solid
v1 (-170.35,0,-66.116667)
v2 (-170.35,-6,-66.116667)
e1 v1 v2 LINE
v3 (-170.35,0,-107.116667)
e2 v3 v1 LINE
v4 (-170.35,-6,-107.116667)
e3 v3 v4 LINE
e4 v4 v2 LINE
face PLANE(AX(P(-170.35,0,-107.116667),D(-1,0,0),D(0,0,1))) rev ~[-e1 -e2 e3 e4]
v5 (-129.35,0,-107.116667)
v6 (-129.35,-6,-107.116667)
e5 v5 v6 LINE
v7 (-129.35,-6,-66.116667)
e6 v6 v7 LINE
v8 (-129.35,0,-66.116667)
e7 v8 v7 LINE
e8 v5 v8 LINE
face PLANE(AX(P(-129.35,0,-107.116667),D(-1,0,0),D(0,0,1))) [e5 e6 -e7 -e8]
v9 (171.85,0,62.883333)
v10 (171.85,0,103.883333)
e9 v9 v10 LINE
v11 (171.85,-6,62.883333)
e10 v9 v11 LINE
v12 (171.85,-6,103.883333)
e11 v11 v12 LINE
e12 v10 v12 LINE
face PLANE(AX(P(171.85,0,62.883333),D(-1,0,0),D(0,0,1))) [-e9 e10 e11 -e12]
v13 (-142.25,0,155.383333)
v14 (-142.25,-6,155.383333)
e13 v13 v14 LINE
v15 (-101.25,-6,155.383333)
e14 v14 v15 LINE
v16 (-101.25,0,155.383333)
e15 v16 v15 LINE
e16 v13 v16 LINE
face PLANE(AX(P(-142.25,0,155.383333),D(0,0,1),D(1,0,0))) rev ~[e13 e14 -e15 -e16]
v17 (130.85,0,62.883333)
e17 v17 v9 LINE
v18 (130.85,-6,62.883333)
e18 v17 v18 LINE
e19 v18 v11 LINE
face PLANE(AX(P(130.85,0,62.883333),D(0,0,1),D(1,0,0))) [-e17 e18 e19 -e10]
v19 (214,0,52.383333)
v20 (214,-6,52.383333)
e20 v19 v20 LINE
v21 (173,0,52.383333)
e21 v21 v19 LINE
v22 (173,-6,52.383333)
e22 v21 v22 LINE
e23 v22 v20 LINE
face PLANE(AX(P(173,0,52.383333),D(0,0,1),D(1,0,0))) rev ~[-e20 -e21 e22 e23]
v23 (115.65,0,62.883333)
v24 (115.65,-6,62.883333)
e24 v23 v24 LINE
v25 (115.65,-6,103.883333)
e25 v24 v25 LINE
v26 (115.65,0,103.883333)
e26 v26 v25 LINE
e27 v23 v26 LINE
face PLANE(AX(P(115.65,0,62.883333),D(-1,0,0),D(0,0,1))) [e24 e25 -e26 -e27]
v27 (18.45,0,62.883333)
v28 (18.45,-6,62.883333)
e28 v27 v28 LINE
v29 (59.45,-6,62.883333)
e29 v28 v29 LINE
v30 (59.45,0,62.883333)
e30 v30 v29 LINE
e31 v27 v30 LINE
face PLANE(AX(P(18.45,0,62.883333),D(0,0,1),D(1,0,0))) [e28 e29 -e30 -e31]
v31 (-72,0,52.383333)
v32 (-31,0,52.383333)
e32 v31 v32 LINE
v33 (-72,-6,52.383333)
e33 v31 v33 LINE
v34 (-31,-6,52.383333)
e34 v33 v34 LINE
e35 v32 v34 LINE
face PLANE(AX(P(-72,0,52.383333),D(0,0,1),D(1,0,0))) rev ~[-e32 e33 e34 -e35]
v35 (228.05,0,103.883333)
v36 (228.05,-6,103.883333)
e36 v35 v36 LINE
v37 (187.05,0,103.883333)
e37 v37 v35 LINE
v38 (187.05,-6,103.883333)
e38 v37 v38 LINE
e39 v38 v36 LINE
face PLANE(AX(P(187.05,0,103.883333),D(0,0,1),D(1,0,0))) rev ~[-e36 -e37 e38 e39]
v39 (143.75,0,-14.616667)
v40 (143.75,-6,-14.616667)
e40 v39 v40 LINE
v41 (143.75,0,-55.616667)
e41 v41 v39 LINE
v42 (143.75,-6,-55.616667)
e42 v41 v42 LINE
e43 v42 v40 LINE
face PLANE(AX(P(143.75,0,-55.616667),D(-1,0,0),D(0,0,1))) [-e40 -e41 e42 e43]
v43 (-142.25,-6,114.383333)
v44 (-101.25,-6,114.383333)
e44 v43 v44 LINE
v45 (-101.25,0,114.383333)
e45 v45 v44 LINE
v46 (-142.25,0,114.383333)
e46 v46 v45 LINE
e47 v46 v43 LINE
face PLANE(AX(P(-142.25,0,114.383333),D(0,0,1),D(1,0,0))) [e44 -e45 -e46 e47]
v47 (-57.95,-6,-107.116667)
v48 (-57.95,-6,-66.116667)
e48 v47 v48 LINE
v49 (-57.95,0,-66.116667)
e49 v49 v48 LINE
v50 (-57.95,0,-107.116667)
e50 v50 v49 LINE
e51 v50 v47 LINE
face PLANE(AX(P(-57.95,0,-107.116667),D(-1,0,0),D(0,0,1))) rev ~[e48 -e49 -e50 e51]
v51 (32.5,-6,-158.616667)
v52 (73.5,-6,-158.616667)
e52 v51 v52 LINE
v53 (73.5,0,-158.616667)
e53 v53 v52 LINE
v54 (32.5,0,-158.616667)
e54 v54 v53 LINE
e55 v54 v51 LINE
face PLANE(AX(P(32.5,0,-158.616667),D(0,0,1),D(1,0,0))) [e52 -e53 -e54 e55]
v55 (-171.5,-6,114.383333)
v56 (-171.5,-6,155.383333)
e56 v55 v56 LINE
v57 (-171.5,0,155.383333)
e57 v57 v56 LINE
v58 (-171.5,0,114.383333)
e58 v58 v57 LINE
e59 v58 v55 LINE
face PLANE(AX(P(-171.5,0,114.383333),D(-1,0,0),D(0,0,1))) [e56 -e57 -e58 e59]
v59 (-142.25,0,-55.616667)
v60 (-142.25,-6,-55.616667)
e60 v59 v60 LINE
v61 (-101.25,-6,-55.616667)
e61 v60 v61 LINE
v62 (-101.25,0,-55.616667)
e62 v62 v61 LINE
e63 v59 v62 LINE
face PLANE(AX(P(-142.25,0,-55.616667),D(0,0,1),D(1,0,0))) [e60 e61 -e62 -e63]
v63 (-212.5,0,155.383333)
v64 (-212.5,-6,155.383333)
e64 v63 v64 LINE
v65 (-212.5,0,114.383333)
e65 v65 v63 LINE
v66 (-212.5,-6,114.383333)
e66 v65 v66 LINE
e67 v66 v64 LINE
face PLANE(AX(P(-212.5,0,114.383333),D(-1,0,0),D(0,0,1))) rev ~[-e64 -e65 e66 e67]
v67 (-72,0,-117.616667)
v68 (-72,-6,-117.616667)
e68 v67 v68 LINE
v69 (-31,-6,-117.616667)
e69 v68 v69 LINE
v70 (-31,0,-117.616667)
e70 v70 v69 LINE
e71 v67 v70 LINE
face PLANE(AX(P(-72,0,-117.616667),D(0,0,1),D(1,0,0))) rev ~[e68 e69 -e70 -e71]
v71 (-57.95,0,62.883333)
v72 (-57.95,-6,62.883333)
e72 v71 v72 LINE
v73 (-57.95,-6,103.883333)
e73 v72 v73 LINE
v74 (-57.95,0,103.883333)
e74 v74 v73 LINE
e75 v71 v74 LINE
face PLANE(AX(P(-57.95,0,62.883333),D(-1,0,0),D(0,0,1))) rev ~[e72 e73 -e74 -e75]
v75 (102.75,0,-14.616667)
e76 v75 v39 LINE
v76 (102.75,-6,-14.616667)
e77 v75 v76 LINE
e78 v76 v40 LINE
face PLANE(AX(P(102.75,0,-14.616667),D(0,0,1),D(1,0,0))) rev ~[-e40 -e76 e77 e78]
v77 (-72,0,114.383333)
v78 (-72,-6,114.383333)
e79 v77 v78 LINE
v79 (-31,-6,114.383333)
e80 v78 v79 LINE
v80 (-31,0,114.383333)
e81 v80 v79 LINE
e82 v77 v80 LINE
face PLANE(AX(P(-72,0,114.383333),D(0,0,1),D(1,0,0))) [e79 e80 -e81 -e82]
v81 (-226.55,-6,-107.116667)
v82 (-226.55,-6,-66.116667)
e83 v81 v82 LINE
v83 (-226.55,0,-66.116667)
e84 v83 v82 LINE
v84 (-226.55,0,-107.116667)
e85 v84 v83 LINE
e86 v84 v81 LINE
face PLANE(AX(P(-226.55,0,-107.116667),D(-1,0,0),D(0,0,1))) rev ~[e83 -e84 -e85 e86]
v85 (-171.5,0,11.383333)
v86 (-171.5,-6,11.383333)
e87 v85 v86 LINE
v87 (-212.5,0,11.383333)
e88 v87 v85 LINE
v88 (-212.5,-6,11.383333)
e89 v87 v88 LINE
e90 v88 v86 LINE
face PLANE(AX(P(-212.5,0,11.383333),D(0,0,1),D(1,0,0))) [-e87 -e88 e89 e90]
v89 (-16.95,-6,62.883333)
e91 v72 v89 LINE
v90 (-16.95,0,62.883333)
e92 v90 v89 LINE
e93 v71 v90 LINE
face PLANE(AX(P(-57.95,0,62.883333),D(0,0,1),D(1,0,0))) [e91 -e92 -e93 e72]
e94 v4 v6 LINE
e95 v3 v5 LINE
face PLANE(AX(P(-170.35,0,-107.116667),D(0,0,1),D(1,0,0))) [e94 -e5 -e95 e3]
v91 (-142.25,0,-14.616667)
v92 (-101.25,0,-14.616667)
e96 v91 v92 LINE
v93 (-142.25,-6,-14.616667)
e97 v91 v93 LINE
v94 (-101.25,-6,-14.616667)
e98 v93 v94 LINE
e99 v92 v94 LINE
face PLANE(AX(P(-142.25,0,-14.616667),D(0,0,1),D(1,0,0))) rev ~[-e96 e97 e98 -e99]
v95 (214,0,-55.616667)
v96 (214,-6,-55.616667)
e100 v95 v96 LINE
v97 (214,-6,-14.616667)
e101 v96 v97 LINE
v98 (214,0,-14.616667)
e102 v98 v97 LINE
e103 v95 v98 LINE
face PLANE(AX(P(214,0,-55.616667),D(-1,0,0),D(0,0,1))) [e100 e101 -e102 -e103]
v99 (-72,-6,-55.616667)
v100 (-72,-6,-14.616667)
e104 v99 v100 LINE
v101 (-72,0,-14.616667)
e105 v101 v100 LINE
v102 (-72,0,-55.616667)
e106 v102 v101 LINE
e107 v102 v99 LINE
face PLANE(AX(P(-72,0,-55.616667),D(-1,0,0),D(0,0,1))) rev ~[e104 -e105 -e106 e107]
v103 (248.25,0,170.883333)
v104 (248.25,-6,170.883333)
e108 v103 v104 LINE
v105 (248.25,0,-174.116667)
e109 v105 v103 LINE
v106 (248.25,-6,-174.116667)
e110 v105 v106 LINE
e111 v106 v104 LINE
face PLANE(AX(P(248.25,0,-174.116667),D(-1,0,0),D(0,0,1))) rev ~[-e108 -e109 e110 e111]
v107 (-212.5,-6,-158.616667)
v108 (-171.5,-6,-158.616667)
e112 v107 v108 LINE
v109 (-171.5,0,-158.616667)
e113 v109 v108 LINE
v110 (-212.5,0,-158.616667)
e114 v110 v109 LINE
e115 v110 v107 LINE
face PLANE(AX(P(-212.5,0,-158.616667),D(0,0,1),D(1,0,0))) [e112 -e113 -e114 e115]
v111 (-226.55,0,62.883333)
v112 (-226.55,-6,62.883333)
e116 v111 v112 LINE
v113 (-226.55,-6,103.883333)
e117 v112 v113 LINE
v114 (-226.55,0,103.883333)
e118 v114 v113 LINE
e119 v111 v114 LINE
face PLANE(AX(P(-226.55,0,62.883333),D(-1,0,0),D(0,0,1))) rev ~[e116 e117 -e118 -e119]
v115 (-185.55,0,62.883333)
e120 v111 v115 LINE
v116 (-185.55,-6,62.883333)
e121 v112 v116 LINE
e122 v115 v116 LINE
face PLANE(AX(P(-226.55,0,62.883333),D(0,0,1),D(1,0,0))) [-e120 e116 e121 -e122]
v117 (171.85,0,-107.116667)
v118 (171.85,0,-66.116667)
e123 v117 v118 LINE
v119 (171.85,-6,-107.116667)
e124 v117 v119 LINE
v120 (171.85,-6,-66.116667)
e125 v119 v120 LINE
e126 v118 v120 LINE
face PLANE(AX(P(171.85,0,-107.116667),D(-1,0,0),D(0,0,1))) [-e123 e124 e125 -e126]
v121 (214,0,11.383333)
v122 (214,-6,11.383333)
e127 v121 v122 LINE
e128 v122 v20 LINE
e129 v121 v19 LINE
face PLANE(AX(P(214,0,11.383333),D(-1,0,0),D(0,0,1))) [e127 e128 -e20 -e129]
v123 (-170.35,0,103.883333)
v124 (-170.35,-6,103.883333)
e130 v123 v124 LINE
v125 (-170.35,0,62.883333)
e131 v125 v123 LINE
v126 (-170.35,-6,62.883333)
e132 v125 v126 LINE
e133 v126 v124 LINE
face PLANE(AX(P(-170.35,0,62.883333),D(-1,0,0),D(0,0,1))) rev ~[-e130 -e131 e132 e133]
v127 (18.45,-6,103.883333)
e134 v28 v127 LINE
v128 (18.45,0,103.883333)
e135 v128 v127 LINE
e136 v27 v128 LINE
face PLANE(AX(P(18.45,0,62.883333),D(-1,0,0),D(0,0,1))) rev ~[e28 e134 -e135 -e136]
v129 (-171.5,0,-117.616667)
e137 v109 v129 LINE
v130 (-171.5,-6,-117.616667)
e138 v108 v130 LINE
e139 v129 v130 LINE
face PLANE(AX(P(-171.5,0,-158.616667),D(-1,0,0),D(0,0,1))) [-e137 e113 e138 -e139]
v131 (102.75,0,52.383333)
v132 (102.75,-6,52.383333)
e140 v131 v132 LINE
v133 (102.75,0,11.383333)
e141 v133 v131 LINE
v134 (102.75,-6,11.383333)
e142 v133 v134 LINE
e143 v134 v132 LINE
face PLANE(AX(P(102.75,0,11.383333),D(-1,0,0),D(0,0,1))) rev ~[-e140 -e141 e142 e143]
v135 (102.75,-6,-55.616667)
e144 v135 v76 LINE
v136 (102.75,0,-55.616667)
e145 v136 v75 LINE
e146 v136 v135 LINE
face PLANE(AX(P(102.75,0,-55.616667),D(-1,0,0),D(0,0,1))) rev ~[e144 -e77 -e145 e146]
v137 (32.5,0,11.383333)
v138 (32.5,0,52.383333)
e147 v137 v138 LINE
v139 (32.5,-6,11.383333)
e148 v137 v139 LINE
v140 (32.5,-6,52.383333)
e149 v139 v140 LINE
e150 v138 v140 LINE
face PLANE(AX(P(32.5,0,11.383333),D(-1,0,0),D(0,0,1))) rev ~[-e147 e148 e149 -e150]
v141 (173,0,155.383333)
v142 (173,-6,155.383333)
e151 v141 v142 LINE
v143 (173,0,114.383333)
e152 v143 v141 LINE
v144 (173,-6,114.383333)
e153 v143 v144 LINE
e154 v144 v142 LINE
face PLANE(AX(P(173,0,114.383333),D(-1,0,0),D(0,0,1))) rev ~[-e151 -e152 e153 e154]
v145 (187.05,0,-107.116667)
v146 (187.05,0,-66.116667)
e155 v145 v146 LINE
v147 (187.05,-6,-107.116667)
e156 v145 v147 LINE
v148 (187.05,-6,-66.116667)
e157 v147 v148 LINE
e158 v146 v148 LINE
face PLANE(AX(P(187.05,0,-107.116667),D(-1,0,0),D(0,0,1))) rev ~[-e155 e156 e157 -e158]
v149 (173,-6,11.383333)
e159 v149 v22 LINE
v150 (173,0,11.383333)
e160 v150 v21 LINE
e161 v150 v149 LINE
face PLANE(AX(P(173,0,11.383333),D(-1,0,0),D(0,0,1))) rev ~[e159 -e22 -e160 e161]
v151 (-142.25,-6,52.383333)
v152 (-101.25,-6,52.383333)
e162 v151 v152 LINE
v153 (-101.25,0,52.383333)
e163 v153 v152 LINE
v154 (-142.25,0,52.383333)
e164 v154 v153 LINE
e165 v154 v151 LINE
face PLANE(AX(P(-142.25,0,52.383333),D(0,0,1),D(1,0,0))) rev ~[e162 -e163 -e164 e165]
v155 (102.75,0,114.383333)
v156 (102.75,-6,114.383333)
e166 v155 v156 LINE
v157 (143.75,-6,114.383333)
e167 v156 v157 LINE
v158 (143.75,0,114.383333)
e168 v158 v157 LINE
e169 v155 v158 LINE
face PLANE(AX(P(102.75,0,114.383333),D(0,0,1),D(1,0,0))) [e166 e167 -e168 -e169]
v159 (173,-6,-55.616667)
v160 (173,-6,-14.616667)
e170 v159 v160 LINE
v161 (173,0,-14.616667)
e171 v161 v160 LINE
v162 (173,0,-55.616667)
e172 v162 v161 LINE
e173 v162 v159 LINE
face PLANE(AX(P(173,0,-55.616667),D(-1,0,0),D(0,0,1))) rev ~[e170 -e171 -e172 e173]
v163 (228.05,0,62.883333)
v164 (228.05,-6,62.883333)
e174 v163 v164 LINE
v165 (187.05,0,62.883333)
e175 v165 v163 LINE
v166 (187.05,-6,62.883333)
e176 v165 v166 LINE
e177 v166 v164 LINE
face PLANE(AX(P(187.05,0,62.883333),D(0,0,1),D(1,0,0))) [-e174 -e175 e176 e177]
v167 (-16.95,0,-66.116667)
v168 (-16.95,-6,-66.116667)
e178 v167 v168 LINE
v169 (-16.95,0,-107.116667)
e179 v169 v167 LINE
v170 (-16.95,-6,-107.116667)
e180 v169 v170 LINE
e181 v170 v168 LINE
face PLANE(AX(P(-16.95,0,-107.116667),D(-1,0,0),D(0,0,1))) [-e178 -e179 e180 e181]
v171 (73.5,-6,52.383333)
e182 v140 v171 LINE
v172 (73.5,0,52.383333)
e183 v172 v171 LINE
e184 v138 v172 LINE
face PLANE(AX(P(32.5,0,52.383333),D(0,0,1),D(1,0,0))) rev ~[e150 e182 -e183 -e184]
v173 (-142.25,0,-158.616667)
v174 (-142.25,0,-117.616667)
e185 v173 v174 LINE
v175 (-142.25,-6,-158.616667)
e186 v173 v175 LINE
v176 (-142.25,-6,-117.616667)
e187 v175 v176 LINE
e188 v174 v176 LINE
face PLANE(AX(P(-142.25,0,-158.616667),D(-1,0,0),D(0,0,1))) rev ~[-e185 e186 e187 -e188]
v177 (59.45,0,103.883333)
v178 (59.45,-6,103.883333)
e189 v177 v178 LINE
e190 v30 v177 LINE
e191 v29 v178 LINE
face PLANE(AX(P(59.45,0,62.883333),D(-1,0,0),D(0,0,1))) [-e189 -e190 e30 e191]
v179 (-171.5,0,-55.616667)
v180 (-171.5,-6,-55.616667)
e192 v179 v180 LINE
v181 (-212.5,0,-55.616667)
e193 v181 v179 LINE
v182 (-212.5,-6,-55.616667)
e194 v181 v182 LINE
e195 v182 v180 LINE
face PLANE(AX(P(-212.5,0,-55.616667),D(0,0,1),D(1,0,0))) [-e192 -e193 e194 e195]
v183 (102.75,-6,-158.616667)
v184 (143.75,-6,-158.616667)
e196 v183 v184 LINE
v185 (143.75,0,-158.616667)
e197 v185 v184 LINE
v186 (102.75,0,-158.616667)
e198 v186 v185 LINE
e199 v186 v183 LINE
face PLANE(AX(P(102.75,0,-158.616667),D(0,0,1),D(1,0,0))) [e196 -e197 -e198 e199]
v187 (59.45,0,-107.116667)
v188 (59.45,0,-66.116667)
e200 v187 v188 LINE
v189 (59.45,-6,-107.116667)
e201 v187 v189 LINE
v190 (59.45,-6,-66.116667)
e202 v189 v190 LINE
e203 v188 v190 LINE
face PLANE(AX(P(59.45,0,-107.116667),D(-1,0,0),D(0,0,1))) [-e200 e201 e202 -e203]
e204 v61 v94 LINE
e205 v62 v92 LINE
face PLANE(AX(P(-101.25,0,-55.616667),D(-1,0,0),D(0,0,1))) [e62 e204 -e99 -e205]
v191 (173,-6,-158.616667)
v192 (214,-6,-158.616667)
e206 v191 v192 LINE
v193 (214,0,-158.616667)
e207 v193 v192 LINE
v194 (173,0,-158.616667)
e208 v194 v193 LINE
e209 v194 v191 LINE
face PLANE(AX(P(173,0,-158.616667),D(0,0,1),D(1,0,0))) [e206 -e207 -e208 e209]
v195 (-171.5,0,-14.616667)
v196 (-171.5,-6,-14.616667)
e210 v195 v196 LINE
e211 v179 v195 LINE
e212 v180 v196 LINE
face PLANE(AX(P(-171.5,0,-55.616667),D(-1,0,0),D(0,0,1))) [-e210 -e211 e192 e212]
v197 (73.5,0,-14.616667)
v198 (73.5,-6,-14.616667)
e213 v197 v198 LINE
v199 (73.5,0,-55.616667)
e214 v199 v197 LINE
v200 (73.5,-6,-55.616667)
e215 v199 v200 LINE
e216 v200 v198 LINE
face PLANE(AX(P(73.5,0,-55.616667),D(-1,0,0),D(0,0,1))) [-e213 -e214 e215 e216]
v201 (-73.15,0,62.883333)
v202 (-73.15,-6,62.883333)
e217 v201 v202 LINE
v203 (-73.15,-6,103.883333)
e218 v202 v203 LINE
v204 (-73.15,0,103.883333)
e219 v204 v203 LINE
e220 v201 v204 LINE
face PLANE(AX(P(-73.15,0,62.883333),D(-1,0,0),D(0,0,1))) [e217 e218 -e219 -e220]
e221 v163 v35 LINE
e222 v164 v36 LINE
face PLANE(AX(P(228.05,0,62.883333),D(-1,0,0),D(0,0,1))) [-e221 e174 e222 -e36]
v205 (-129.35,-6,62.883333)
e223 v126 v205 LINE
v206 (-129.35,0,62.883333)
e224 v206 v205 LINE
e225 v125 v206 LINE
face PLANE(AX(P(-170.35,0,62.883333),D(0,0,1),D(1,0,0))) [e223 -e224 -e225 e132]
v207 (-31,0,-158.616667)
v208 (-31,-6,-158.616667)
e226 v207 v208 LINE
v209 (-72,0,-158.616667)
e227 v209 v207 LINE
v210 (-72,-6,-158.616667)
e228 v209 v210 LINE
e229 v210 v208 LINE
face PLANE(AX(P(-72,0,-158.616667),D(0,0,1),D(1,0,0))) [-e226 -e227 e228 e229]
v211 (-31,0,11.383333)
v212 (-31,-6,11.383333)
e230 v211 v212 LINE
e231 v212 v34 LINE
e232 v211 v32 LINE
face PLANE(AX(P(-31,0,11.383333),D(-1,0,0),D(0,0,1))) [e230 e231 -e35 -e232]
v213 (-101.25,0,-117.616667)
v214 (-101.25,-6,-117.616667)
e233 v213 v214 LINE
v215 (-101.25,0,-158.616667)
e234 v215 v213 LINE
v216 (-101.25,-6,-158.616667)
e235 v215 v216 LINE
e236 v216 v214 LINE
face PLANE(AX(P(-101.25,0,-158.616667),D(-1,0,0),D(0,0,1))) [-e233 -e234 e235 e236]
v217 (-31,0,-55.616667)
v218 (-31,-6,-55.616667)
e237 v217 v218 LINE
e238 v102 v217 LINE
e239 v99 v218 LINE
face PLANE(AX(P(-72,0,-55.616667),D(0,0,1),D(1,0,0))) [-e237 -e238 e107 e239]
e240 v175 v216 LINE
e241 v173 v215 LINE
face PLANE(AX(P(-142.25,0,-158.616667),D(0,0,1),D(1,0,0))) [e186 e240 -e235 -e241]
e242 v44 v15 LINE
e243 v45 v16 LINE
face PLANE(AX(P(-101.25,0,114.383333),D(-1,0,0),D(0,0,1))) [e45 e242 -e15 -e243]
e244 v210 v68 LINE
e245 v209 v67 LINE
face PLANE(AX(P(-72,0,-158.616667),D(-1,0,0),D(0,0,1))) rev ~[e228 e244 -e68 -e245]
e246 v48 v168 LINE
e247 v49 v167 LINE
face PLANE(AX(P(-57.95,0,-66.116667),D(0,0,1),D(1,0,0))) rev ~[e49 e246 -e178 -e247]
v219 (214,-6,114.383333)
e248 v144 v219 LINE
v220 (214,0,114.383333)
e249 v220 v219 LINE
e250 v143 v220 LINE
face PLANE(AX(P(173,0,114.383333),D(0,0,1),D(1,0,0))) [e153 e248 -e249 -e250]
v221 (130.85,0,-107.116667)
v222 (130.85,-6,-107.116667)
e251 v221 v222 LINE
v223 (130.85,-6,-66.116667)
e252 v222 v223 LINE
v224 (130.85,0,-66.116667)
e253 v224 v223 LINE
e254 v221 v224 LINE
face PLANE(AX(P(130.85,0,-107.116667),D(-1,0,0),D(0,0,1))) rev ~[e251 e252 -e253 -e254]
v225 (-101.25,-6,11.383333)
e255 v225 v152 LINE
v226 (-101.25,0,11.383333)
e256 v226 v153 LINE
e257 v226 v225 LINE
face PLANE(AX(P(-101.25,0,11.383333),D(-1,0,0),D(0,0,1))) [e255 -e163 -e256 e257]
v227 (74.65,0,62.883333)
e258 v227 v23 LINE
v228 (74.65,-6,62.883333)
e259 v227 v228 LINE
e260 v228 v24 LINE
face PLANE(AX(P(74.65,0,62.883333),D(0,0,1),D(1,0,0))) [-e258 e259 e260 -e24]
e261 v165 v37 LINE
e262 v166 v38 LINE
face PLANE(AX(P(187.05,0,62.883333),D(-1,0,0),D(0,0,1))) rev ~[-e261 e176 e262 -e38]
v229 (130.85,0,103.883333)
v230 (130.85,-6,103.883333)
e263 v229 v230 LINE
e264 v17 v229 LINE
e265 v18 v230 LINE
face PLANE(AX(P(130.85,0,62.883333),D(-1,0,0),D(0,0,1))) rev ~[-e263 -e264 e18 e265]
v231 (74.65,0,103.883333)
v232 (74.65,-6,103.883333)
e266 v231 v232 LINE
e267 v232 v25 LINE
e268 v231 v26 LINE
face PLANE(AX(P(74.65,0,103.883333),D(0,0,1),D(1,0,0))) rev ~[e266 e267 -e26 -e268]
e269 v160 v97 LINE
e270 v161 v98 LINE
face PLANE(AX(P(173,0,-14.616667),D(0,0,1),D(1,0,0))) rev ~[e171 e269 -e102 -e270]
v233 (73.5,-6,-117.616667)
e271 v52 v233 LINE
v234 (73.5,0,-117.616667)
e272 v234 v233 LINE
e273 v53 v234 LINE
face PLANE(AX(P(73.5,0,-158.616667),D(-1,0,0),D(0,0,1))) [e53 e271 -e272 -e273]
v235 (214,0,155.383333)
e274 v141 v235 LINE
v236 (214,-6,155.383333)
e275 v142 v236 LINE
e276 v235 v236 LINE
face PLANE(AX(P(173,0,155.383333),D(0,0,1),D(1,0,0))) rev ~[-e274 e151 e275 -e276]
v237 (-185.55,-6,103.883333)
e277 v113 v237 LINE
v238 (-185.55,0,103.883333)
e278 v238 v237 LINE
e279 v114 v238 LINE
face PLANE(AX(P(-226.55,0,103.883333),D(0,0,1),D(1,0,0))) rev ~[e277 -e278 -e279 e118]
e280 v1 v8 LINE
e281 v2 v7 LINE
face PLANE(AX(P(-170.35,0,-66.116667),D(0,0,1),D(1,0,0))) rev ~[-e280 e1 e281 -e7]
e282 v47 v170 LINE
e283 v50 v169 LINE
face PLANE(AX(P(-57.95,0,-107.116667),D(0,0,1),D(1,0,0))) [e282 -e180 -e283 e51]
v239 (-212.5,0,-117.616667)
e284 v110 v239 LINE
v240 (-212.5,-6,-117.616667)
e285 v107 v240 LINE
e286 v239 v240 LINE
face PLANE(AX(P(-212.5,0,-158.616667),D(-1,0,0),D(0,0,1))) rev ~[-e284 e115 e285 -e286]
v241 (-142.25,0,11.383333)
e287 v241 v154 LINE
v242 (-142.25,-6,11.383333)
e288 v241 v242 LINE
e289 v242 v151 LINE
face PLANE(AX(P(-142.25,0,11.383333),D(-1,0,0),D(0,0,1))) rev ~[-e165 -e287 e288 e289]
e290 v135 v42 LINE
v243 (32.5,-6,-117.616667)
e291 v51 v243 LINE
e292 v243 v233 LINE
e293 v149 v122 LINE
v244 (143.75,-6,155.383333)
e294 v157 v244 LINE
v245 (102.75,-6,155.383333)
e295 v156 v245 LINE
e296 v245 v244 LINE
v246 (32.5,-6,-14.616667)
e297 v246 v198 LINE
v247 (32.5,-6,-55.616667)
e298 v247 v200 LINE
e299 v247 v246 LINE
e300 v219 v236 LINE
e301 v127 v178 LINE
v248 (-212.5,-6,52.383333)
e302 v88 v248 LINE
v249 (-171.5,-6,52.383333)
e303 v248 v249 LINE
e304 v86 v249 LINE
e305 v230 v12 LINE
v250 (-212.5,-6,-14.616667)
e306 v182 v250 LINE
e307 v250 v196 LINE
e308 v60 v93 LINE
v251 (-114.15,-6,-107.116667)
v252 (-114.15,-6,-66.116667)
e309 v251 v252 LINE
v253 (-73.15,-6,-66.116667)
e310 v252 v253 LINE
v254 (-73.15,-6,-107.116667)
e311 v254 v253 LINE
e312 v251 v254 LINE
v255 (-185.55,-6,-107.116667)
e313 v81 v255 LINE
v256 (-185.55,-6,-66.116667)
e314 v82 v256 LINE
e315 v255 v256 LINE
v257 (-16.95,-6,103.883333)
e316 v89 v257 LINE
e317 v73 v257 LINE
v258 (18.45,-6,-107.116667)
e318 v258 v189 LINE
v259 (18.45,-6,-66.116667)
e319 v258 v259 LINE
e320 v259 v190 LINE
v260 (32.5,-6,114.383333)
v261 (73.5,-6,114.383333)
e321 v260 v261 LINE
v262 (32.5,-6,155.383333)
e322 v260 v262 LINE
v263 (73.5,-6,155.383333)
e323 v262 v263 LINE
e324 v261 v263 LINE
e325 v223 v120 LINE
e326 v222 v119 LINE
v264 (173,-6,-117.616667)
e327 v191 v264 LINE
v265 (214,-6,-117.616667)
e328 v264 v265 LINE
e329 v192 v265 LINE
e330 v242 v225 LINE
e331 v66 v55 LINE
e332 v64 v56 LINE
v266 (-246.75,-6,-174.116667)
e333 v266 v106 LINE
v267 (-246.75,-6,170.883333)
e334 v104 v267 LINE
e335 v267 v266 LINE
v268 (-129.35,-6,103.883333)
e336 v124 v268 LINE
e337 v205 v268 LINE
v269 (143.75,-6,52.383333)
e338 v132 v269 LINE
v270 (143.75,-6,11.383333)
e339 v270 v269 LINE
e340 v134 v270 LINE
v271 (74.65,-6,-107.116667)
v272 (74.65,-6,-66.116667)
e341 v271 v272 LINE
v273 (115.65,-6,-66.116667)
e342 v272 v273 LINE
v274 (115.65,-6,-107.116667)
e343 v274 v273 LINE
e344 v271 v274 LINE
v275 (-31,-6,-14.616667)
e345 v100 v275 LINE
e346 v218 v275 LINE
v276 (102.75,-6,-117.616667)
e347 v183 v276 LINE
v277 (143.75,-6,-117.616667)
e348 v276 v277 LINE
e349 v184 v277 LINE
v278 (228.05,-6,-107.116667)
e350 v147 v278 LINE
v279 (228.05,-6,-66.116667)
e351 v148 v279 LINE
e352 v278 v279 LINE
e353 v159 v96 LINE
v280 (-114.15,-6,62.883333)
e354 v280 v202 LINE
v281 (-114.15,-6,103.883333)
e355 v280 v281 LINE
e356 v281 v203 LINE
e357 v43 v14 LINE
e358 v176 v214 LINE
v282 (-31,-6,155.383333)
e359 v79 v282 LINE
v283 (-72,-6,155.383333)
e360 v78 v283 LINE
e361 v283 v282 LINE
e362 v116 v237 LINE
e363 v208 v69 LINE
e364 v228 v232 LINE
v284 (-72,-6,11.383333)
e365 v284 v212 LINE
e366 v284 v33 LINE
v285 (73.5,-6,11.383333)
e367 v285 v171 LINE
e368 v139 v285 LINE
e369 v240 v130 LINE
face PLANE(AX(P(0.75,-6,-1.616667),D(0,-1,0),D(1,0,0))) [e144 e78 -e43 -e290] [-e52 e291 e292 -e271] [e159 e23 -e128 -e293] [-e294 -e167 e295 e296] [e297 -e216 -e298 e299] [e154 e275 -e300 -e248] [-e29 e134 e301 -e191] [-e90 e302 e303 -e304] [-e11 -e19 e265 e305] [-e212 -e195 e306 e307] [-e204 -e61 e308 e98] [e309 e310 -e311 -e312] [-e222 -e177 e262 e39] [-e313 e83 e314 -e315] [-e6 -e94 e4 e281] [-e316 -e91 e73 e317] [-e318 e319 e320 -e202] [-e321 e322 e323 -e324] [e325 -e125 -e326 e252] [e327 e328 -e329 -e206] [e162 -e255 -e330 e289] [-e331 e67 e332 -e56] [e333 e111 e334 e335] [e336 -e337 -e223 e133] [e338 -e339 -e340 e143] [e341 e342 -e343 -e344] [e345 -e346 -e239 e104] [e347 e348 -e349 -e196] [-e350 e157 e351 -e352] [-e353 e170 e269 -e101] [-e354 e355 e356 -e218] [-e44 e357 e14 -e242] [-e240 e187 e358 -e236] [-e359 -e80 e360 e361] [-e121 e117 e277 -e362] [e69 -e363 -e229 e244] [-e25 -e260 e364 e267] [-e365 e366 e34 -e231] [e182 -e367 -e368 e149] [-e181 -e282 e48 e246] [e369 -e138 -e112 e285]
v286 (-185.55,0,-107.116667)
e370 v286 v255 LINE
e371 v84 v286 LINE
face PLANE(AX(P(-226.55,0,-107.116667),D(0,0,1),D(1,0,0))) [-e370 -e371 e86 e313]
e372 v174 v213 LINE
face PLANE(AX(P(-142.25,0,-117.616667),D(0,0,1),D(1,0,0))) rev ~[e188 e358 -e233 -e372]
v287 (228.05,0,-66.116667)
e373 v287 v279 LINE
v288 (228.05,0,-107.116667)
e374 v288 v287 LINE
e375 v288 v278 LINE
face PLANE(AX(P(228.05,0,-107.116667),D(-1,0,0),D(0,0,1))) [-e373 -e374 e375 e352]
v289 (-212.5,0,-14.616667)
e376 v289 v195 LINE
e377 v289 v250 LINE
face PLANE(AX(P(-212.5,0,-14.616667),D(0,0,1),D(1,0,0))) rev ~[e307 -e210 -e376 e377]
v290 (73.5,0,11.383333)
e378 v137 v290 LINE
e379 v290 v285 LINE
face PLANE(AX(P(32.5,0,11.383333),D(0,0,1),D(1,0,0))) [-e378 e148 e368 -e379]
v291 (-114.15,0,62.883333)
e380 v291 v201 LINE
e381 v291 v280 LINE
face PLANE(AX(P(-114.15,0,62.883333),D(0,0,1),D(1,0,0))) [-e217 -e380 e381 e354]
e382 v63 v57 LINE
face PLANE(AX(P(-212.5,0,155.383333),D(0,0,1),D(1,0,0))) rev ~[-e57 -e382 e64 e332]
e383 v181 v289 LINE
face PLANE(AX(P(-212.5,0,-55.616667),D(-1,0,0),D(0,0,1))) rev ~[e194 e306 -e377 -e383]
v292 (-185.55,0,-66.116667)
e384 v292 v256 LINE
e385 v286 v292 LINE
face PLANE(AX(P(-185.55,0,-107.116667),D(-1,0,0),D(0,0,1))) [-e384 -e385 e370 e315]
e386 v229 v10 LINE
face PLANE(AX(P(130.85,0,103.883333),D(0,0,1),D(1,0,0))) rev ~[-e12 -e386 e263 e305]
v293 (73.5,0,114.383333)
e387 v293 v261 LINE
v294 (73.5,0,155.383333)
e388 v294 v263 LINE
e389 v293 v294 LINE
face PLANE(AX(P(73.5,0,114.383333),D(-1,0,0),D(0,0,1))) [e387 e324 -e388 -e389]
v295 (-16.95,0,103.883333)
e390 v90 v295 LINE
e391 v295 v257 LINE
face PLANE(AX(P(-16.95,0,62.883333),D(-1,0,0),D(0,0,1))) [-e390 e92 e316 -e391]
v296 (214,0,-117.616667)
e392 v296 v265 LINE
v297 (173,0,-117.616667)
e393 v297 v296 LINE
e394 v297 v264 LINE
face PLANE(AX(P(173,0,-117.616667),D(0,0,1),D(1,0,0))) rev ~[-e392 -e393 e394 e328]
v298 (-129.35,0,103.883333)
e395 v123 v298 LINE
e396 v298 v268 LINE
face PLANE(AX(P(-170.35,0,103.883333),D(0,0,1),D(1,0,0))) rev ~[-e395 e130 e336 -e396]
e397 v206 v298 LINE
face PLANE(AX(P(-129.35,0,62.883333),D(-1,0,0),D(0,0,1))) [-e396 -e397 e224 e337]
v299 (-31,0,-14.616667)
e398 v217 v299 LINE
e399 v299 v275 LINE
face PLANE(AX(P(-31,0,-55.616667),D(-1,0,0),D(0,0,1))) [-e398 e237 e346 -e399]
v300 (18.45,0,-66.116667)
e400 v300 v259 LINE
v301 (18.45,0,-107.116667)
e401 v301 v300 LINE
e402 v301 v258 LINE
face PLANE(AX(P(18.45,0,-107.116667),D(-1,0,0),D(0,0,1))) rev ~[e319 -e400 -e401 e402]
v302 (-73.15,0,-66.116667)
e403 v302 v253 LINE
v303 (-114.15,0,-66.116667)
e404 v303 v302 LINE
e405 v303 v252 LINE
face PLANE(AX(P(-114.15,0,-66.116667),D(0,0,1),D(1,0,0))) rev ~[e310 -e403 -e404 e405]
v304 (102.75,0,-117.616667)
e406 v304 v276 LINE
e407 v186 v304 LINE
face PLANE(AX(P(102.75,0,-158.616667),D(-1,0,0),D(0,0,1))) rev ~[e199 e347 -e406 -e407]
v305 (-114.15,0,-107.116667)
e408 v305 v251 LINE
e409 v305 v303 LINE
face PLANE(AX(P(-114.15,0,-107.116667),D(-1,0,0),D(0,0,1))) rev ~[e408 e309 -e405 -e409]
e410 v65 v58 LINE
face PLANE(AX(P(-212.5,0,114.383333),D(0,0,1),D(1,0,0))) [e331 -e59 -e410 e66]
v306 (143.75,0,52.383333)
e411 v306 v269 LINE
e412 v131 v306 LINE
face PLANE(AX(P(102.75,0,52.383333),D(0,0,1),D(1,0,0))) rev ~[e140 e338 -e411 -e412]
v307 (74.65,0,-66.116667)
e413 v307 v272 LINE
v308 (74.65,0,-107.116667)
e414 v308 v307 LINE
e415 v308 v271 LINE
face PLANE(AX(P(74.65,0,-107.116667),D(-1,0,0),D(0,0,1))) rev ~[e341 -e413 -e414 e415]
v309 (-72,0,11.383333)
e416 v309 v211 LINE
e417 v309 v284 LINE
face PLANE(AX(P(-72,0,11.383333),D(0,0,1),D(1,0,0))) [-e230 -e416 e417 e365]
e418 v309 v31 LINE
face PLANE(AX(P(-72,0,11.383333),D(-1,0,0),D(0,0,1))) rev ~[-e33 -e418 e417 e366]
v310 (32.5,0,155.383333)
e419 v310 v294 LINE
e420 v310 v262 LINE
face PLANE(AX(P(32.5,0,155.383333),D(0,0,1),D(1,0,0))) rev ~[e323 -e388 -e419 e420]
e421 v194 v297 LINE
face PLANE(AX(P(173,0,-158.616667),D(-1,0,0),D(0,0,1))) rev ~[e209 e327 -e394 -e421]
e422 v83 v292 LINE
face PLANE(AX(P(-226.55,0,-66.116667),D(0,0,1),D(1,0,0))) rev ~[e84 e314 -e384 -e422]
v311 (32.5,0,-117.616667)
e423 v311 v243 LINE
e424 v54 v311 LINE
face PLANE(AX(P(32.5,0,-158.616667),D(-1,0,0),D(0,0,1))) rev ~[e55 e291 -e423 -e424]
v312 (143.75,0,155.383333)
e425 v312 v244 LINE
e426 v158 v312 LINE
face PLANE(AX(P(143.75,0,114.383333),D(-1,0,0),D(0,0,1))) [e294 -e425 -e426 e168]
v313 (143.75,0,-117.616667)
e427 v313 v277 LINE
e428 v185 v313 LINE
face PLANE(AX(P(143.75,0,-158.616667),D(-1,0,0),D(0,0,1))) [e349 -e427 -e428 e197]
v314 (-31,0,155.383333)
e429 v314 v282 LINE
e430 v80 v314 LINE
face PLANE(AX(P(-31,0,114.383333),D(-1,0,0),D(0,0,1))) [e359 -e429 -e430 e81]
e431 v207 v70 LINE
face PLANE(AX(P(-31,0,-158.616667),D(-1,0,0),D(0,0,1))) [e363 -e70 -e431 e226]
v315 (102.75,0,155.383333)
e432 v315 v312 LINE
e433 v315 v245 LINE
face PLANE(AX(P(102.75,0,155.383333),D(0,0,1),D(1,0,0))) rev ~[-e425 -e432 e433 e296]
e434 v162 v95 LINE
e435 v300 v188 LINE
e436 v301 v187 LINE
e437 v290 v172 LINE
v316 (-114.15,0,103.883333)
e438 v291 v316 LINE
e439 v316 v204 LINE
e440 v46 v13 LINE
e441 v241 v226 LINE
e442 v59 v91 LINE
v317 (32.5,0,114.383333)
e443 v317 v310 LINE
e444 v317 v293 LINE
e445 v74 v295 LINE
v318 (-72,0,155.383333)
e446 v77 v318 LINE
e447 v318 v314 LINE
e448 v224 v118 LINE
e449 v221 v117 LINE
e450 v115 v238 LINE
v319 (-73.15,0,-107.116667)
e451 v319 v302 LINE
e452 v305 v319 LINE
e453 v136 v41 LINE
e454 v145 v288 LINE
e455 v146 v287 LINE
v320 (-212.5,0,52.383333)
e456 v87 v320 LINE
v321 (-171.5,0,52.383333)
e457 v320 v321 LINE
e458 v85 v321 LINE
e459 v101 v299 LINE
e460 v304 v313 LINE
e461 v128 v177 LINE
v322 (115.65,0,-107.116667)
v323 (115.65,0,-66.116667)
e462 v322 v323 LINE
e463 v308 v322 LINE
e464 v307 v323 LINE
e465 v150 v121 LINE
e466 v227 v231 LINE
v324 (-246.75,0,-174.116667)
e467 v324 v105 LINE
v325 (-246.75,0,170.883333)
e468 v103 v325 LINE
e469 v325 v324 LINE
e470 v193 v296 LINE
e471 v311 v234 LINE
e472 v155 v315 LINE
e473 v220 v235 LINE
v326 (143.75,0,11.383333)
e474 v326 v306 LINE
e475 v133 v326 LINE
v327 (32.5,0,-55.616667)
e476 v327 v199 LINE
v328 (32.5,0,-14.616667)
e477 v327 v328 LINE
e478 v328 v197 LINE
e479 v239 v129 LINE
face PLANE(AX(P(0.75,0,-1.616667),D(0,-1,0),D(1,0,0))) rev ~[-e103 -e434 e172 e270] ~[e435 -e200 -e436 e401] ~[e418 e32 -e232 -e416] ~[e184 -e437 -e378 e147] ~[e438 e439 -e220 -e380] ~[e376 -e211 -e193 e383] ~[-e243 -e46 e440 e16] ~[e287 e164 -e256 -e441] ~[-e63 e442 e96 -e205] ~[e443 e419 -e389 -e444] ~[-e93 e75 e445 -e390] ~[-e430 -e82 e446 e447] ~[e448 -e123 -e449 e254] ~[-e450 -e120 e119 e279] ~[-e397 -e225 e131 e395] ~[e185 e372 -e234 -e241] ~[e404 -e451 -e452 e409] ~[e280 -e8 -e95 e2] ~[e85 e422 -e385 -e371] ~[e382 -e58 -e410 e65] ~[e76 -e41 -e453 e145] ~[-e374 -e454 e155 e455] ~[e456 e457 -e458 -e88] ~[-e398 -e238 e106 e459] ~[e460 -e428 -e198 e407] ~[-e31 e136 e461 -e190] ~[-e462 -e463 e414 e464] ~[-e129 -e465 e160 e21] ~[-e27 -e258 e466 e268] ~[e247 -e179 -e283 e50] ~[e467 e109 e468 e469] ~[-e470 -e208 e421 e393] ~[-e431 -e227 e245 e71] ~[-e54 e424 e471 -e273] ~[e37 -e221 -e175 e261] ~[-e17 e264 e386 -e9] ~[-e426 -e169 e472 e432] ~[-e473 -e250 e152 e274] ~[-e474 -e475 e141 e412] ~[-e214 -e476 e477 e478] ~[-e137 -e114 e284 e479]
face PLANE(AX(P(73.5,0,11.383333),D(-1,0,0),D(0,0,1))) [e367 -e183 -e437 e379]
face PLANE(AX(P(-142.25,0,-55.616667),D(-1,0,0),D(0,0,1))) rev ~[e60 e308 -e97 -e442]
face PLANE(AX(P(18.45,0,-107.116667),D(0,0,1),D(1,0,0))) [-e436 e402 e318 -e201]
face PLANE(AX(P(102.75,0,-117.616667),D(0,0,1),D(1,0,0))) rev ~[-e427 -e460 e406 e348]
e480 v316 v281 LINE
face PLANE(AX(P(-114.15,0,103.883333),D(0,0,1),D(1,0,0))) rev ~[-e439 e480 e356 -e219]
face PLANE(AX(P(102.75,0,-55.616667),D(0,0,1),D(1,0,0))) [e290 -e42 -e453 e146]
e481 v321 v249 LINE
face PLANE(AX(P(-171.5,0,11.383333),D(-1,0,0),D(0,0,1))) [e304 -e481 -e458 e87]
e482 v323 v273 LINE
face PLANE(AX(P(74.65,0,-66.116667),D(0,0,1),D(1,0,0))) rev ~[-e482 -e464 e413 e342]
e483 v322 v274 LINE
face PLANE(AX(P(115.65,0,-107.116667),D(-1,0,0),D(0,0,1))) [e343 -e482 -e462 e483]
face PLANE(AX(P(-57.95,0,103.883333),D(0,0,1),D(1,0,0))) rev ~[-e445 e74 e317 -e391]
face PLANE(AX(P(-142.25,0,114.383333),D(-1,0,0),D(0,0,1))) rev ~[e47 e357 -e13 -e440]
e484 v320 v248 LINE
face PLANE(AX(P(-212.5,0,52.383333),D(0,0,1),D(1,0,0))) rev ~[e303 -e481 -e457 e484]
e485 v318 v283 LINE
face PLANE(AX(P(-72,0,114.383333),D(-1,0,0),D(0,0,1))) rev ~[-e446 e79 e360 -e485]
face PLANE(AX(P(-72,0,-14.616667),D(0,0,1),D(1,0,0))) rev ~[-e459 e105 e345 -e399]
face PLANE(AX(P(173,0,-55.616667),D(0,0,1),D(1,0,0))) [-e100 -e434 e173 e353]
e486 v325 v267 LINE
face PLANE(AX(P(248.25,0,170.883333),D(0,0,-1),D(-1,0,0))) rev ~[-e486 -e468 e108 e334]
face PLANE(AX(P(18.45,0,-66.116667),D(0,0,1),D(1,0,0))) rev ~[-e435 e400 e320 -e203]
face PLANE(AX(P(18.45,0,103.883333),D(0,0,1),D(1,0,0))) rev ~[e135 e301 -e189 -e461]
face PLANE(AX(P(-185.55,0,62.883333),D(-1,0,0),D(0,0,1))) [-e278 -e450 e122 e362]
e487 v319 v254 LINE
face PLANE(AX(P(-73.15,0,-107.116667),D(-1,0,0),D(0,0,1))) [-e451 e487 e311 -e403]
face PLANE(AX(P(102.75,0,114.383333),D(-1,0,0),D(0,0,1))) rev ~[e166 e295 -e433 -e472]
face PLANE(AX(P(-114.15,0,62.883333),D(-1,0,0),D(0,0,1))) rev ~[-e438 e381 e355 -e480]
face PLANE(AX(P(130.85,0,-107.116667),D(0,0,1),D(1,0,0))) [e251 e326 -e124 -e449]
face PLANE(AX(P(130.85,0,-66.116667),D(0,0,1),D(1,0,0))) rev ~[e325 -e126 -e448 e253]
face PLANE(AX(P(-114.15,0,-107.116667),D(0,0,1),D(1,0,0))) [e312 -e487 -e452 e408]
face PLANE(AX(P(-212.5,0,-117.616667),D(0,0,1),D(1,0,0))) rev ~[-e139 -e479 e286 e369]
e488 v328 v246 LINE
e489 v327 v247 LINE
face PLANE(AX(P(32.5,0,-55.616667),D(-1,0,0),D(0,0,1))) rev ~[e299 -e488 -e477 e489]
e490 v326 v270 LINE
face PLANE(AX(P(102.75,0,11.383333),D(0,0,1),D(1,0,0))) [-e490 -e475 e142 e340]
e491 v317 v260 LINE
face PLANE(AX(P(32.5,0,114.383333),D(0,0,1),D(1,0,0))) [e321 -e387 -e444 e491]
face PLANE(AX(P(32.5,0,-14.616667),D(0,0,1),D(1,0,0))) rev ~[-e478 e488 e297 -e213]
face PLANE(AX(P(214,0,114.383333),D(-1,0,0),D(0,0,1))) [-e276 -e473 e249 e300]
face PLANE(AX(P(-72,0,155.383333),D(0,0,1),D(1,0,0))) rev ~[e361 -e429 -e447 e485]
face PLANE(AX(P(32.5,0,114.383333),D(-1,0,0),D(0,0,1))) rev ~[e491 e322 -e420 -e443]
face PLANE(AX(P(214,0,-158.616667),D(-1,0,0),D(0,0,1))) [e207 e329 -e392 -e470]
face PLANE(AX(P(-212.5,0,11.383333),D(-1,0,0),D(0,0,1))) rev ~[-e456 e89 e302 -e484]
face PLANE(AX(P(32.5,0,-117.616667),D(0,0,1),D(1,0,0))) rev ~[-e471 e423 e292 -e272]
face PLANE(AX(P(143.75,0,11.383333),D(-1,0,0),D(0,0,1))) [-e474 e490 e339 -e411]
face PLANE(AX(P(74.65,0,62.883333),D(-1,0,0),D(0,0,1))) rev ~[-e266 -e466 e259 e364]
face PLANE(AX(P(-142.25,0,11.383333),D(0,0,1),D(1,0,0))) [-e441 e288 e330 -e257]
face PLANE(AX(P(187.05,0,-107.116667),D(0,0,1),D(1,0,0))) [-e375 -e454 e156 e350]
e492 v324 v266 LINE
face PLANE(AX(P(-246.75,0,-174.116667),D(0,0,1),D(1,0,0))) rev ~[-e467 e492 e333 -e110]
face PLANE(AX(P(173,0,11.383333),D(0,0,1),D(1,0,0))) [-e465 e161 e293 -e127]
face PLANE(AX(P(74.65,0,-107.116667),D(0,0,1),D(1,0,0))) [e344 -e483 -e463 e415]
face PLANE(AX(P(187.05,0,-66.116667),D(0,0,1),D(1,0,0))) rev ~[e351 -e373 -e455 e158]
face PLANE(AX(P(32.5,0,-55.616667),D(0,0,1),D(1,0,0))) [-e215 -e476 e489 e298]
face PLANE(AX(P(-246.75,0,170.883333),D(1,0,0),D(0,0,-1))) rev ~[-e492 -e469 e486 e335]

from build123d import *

# Parameters (mm, degrees)
F0_W     = 41
F0_H     = 41
F1_DEPTH = 6


with BuildPart() as f1:
    # F0 (on Front) → F1 (new body)
    with BuildSketch(Plane.XZ):
        Polygon((-226.75, -174.116667), (228.25, -174.116667), (248.25, -174.116667), (248.25, -154.116667), (248.25, 150.883333), (248.25, 170.883333), (227.5, 170.883333), (-227.5, 170.883333), (-246.75, 170.883333), (-246.75, 152.5), (-246.75, -152.5), (-246.75, -174.116667), align=None)
        with Locations((-192, -138.116667)):
            Rectangle(F0_W, F0_H, mode=Mode.SUBTRACT)
        with Locations((-121.75, -138.116667)):
            Rectangle(F0_W, F0_H, mode=Mode.SUBTRACT)
        with Locations((-51.5, -138.116667)):
            Rectangle(F0_W, F0_H, mode=Mode.SUBTRACT)
        with Locations((-206.05, -86.616667)):
            Rectangle(F0_W, F0_H, mode=Mode.SUBTRACT)
        with Locations((-149.85, -86.616667)):
            Rectangle(F0_W, F0_H, mode=Mode.SUBTRACT)
        with Locations((-192, -35.116667)):
            Rectangle(F0_W, F0_H, mode=Mode.SUBTRACT)
        with Locations((-93.65, -86.616667)):
            Rectangle(F0_W, F0_H, mode=Mode.SUBTRACT)
        with Locations((-37.45, -86.616667)):
            Rectangle(F0_W, F0_H, mode=Mode.SUBTRACT)
        with Locations((-121.75, -35.116667)):
            Rectangle(F0_W, F0_H, mode=Mode.SUBTRACT)
        with Locations((-51.5, -35.116667)):
            Rectangle(F0_W, F0_H, mode=Mode.SUBTRACT)
        with Locations((53, -138.116667)):
            Rectangle(F0_W, F0_H, mode=Mode.SUBTRACT)
        with Locations((123.25, -138.116667)):
            Rectangle(F0_W, F0_H, mode=Mode.SUBTRACT)
        with Locations((193.5, -138.116667)):
            Rectangle(F0_W, F0_H, mode=Mode.SUBTRACT)
        with Locations((38.95, -86.616667)):
            Rectangle(F0_W, F0_H, mode=Mode.SUBTRACT)
        with Locations((95.15, -86.616667)):
            Rectangle(F0_W, F0_H, mode=Mode.SUBTRACT)
        with Locations((53, -35.116667)):
            Rectangle(F0_W, F0_H, mode=Mode.SUBTRACT)
        with Locations((123.25, -35.116667)):
            Rectangle(F0_W, F0_H, mode=Mode.SUBTRACT)
        with Locations((151.35, -86.616667)):
            Rectangle(F0_W, F0_H, mode=Mode.SUBTRACT)
        with Locations((207.55, -86.616667)):
            Rectangle(F0_W, F0_H, mode=Mode.SUBTRACT)
        with Locations((193.5, -35.116667)):
            Rectangle(F0_W, F0_H, mode=Mode.SUBTRACT)
        with Locations((-192, 31.883333)):
            Rectangle(F0_W, F0_H, mode=Mode.SUBTRACT)
        with Locations((-206.05, 83.383333)):
            Rectangle(F0_W, F0_H, mode=Mode.SUBTRACT)
        with Locations((-149.85, 83.383333)):
            Rectangle(F0_W, F0_H, mode=Mode.SUBTRACT)
        with Locations((-121.75, 31.883333)):
            Rectangle(F0_W, F0_H, mode=Mode.SUBTRACT)
        with Locations((-51.5, 31.883333)):
            Rectangle(F0_W, F0_H, mode=Mode.SUBTRACT)
        with Locations((-93.65, 83.383333)):
            Rectangle(F0_W, F0_H, mode=Mode.SUBTRACT)
        with Locations((-37.45, 83.383333)):
            Rectangle(F0_W, F0_H, mode=Mode.SUBTRACT)
        with Locations((-192, 134.883333)):
            Rectangle(F0_W, F0_H, mode=Mode.SUBTRACT)
        with Locations((-121.75, 134.883333)):
            Rectangle(F0_W, F0_H, mode=Mode.SUBTRACT)
        with Locations((-51.5, 134.883333)):
            Rectangle(F0_W, F0_H, mode=Mode.SUBTRACT)
        with Locations((53, 31.883333)):
            Rectangle(F0_W, F0_H, mode=Mode.SUBTRACT)
        with Locations((123.25, 31.883333)):
            Rectangle(F0_W, F0_H, mode=Mode.SUBTRACT)
        with Locations((38.95, 83.383333)):
            Rectangle(F0_W, F0_H, mode=Mode.SUBTRACT)
        with Locations((95.15, 83.383333)):
            Rectangle(F0_W, F0_H, mode=Mode.SUBTRACT)
        with Locations((193.5, 31.883333)):
            Rectangle(F0_W, F0_H, mode=Mode.SUBTRACT)
        with Locations((151.35, 83.383333)):
            Rectangle(F0_W, F0_H, mode=Mode.SUBTRACT)
        with Locations((207.55, 83.383333)):
            Rectangle(F0_W, F0_H, mode=Mode.SUBTRACT)
        with Locations((53, 134.883333)):
            Rectangle(F0_W, F0_H, mode=Mode.SUBTRACT)
        with Locations((123.25, 134.883333)):
            Rectangle(F0_W, F0_H, mode=Mode.SUBTRACT)
        with Locations((193.5, 134.883333)):
            Rectangle(F0_W, F0_H, mode=Mode.SUBTRACT)
    extrude(amount=F1_DEPTH)


solid = f1.part
